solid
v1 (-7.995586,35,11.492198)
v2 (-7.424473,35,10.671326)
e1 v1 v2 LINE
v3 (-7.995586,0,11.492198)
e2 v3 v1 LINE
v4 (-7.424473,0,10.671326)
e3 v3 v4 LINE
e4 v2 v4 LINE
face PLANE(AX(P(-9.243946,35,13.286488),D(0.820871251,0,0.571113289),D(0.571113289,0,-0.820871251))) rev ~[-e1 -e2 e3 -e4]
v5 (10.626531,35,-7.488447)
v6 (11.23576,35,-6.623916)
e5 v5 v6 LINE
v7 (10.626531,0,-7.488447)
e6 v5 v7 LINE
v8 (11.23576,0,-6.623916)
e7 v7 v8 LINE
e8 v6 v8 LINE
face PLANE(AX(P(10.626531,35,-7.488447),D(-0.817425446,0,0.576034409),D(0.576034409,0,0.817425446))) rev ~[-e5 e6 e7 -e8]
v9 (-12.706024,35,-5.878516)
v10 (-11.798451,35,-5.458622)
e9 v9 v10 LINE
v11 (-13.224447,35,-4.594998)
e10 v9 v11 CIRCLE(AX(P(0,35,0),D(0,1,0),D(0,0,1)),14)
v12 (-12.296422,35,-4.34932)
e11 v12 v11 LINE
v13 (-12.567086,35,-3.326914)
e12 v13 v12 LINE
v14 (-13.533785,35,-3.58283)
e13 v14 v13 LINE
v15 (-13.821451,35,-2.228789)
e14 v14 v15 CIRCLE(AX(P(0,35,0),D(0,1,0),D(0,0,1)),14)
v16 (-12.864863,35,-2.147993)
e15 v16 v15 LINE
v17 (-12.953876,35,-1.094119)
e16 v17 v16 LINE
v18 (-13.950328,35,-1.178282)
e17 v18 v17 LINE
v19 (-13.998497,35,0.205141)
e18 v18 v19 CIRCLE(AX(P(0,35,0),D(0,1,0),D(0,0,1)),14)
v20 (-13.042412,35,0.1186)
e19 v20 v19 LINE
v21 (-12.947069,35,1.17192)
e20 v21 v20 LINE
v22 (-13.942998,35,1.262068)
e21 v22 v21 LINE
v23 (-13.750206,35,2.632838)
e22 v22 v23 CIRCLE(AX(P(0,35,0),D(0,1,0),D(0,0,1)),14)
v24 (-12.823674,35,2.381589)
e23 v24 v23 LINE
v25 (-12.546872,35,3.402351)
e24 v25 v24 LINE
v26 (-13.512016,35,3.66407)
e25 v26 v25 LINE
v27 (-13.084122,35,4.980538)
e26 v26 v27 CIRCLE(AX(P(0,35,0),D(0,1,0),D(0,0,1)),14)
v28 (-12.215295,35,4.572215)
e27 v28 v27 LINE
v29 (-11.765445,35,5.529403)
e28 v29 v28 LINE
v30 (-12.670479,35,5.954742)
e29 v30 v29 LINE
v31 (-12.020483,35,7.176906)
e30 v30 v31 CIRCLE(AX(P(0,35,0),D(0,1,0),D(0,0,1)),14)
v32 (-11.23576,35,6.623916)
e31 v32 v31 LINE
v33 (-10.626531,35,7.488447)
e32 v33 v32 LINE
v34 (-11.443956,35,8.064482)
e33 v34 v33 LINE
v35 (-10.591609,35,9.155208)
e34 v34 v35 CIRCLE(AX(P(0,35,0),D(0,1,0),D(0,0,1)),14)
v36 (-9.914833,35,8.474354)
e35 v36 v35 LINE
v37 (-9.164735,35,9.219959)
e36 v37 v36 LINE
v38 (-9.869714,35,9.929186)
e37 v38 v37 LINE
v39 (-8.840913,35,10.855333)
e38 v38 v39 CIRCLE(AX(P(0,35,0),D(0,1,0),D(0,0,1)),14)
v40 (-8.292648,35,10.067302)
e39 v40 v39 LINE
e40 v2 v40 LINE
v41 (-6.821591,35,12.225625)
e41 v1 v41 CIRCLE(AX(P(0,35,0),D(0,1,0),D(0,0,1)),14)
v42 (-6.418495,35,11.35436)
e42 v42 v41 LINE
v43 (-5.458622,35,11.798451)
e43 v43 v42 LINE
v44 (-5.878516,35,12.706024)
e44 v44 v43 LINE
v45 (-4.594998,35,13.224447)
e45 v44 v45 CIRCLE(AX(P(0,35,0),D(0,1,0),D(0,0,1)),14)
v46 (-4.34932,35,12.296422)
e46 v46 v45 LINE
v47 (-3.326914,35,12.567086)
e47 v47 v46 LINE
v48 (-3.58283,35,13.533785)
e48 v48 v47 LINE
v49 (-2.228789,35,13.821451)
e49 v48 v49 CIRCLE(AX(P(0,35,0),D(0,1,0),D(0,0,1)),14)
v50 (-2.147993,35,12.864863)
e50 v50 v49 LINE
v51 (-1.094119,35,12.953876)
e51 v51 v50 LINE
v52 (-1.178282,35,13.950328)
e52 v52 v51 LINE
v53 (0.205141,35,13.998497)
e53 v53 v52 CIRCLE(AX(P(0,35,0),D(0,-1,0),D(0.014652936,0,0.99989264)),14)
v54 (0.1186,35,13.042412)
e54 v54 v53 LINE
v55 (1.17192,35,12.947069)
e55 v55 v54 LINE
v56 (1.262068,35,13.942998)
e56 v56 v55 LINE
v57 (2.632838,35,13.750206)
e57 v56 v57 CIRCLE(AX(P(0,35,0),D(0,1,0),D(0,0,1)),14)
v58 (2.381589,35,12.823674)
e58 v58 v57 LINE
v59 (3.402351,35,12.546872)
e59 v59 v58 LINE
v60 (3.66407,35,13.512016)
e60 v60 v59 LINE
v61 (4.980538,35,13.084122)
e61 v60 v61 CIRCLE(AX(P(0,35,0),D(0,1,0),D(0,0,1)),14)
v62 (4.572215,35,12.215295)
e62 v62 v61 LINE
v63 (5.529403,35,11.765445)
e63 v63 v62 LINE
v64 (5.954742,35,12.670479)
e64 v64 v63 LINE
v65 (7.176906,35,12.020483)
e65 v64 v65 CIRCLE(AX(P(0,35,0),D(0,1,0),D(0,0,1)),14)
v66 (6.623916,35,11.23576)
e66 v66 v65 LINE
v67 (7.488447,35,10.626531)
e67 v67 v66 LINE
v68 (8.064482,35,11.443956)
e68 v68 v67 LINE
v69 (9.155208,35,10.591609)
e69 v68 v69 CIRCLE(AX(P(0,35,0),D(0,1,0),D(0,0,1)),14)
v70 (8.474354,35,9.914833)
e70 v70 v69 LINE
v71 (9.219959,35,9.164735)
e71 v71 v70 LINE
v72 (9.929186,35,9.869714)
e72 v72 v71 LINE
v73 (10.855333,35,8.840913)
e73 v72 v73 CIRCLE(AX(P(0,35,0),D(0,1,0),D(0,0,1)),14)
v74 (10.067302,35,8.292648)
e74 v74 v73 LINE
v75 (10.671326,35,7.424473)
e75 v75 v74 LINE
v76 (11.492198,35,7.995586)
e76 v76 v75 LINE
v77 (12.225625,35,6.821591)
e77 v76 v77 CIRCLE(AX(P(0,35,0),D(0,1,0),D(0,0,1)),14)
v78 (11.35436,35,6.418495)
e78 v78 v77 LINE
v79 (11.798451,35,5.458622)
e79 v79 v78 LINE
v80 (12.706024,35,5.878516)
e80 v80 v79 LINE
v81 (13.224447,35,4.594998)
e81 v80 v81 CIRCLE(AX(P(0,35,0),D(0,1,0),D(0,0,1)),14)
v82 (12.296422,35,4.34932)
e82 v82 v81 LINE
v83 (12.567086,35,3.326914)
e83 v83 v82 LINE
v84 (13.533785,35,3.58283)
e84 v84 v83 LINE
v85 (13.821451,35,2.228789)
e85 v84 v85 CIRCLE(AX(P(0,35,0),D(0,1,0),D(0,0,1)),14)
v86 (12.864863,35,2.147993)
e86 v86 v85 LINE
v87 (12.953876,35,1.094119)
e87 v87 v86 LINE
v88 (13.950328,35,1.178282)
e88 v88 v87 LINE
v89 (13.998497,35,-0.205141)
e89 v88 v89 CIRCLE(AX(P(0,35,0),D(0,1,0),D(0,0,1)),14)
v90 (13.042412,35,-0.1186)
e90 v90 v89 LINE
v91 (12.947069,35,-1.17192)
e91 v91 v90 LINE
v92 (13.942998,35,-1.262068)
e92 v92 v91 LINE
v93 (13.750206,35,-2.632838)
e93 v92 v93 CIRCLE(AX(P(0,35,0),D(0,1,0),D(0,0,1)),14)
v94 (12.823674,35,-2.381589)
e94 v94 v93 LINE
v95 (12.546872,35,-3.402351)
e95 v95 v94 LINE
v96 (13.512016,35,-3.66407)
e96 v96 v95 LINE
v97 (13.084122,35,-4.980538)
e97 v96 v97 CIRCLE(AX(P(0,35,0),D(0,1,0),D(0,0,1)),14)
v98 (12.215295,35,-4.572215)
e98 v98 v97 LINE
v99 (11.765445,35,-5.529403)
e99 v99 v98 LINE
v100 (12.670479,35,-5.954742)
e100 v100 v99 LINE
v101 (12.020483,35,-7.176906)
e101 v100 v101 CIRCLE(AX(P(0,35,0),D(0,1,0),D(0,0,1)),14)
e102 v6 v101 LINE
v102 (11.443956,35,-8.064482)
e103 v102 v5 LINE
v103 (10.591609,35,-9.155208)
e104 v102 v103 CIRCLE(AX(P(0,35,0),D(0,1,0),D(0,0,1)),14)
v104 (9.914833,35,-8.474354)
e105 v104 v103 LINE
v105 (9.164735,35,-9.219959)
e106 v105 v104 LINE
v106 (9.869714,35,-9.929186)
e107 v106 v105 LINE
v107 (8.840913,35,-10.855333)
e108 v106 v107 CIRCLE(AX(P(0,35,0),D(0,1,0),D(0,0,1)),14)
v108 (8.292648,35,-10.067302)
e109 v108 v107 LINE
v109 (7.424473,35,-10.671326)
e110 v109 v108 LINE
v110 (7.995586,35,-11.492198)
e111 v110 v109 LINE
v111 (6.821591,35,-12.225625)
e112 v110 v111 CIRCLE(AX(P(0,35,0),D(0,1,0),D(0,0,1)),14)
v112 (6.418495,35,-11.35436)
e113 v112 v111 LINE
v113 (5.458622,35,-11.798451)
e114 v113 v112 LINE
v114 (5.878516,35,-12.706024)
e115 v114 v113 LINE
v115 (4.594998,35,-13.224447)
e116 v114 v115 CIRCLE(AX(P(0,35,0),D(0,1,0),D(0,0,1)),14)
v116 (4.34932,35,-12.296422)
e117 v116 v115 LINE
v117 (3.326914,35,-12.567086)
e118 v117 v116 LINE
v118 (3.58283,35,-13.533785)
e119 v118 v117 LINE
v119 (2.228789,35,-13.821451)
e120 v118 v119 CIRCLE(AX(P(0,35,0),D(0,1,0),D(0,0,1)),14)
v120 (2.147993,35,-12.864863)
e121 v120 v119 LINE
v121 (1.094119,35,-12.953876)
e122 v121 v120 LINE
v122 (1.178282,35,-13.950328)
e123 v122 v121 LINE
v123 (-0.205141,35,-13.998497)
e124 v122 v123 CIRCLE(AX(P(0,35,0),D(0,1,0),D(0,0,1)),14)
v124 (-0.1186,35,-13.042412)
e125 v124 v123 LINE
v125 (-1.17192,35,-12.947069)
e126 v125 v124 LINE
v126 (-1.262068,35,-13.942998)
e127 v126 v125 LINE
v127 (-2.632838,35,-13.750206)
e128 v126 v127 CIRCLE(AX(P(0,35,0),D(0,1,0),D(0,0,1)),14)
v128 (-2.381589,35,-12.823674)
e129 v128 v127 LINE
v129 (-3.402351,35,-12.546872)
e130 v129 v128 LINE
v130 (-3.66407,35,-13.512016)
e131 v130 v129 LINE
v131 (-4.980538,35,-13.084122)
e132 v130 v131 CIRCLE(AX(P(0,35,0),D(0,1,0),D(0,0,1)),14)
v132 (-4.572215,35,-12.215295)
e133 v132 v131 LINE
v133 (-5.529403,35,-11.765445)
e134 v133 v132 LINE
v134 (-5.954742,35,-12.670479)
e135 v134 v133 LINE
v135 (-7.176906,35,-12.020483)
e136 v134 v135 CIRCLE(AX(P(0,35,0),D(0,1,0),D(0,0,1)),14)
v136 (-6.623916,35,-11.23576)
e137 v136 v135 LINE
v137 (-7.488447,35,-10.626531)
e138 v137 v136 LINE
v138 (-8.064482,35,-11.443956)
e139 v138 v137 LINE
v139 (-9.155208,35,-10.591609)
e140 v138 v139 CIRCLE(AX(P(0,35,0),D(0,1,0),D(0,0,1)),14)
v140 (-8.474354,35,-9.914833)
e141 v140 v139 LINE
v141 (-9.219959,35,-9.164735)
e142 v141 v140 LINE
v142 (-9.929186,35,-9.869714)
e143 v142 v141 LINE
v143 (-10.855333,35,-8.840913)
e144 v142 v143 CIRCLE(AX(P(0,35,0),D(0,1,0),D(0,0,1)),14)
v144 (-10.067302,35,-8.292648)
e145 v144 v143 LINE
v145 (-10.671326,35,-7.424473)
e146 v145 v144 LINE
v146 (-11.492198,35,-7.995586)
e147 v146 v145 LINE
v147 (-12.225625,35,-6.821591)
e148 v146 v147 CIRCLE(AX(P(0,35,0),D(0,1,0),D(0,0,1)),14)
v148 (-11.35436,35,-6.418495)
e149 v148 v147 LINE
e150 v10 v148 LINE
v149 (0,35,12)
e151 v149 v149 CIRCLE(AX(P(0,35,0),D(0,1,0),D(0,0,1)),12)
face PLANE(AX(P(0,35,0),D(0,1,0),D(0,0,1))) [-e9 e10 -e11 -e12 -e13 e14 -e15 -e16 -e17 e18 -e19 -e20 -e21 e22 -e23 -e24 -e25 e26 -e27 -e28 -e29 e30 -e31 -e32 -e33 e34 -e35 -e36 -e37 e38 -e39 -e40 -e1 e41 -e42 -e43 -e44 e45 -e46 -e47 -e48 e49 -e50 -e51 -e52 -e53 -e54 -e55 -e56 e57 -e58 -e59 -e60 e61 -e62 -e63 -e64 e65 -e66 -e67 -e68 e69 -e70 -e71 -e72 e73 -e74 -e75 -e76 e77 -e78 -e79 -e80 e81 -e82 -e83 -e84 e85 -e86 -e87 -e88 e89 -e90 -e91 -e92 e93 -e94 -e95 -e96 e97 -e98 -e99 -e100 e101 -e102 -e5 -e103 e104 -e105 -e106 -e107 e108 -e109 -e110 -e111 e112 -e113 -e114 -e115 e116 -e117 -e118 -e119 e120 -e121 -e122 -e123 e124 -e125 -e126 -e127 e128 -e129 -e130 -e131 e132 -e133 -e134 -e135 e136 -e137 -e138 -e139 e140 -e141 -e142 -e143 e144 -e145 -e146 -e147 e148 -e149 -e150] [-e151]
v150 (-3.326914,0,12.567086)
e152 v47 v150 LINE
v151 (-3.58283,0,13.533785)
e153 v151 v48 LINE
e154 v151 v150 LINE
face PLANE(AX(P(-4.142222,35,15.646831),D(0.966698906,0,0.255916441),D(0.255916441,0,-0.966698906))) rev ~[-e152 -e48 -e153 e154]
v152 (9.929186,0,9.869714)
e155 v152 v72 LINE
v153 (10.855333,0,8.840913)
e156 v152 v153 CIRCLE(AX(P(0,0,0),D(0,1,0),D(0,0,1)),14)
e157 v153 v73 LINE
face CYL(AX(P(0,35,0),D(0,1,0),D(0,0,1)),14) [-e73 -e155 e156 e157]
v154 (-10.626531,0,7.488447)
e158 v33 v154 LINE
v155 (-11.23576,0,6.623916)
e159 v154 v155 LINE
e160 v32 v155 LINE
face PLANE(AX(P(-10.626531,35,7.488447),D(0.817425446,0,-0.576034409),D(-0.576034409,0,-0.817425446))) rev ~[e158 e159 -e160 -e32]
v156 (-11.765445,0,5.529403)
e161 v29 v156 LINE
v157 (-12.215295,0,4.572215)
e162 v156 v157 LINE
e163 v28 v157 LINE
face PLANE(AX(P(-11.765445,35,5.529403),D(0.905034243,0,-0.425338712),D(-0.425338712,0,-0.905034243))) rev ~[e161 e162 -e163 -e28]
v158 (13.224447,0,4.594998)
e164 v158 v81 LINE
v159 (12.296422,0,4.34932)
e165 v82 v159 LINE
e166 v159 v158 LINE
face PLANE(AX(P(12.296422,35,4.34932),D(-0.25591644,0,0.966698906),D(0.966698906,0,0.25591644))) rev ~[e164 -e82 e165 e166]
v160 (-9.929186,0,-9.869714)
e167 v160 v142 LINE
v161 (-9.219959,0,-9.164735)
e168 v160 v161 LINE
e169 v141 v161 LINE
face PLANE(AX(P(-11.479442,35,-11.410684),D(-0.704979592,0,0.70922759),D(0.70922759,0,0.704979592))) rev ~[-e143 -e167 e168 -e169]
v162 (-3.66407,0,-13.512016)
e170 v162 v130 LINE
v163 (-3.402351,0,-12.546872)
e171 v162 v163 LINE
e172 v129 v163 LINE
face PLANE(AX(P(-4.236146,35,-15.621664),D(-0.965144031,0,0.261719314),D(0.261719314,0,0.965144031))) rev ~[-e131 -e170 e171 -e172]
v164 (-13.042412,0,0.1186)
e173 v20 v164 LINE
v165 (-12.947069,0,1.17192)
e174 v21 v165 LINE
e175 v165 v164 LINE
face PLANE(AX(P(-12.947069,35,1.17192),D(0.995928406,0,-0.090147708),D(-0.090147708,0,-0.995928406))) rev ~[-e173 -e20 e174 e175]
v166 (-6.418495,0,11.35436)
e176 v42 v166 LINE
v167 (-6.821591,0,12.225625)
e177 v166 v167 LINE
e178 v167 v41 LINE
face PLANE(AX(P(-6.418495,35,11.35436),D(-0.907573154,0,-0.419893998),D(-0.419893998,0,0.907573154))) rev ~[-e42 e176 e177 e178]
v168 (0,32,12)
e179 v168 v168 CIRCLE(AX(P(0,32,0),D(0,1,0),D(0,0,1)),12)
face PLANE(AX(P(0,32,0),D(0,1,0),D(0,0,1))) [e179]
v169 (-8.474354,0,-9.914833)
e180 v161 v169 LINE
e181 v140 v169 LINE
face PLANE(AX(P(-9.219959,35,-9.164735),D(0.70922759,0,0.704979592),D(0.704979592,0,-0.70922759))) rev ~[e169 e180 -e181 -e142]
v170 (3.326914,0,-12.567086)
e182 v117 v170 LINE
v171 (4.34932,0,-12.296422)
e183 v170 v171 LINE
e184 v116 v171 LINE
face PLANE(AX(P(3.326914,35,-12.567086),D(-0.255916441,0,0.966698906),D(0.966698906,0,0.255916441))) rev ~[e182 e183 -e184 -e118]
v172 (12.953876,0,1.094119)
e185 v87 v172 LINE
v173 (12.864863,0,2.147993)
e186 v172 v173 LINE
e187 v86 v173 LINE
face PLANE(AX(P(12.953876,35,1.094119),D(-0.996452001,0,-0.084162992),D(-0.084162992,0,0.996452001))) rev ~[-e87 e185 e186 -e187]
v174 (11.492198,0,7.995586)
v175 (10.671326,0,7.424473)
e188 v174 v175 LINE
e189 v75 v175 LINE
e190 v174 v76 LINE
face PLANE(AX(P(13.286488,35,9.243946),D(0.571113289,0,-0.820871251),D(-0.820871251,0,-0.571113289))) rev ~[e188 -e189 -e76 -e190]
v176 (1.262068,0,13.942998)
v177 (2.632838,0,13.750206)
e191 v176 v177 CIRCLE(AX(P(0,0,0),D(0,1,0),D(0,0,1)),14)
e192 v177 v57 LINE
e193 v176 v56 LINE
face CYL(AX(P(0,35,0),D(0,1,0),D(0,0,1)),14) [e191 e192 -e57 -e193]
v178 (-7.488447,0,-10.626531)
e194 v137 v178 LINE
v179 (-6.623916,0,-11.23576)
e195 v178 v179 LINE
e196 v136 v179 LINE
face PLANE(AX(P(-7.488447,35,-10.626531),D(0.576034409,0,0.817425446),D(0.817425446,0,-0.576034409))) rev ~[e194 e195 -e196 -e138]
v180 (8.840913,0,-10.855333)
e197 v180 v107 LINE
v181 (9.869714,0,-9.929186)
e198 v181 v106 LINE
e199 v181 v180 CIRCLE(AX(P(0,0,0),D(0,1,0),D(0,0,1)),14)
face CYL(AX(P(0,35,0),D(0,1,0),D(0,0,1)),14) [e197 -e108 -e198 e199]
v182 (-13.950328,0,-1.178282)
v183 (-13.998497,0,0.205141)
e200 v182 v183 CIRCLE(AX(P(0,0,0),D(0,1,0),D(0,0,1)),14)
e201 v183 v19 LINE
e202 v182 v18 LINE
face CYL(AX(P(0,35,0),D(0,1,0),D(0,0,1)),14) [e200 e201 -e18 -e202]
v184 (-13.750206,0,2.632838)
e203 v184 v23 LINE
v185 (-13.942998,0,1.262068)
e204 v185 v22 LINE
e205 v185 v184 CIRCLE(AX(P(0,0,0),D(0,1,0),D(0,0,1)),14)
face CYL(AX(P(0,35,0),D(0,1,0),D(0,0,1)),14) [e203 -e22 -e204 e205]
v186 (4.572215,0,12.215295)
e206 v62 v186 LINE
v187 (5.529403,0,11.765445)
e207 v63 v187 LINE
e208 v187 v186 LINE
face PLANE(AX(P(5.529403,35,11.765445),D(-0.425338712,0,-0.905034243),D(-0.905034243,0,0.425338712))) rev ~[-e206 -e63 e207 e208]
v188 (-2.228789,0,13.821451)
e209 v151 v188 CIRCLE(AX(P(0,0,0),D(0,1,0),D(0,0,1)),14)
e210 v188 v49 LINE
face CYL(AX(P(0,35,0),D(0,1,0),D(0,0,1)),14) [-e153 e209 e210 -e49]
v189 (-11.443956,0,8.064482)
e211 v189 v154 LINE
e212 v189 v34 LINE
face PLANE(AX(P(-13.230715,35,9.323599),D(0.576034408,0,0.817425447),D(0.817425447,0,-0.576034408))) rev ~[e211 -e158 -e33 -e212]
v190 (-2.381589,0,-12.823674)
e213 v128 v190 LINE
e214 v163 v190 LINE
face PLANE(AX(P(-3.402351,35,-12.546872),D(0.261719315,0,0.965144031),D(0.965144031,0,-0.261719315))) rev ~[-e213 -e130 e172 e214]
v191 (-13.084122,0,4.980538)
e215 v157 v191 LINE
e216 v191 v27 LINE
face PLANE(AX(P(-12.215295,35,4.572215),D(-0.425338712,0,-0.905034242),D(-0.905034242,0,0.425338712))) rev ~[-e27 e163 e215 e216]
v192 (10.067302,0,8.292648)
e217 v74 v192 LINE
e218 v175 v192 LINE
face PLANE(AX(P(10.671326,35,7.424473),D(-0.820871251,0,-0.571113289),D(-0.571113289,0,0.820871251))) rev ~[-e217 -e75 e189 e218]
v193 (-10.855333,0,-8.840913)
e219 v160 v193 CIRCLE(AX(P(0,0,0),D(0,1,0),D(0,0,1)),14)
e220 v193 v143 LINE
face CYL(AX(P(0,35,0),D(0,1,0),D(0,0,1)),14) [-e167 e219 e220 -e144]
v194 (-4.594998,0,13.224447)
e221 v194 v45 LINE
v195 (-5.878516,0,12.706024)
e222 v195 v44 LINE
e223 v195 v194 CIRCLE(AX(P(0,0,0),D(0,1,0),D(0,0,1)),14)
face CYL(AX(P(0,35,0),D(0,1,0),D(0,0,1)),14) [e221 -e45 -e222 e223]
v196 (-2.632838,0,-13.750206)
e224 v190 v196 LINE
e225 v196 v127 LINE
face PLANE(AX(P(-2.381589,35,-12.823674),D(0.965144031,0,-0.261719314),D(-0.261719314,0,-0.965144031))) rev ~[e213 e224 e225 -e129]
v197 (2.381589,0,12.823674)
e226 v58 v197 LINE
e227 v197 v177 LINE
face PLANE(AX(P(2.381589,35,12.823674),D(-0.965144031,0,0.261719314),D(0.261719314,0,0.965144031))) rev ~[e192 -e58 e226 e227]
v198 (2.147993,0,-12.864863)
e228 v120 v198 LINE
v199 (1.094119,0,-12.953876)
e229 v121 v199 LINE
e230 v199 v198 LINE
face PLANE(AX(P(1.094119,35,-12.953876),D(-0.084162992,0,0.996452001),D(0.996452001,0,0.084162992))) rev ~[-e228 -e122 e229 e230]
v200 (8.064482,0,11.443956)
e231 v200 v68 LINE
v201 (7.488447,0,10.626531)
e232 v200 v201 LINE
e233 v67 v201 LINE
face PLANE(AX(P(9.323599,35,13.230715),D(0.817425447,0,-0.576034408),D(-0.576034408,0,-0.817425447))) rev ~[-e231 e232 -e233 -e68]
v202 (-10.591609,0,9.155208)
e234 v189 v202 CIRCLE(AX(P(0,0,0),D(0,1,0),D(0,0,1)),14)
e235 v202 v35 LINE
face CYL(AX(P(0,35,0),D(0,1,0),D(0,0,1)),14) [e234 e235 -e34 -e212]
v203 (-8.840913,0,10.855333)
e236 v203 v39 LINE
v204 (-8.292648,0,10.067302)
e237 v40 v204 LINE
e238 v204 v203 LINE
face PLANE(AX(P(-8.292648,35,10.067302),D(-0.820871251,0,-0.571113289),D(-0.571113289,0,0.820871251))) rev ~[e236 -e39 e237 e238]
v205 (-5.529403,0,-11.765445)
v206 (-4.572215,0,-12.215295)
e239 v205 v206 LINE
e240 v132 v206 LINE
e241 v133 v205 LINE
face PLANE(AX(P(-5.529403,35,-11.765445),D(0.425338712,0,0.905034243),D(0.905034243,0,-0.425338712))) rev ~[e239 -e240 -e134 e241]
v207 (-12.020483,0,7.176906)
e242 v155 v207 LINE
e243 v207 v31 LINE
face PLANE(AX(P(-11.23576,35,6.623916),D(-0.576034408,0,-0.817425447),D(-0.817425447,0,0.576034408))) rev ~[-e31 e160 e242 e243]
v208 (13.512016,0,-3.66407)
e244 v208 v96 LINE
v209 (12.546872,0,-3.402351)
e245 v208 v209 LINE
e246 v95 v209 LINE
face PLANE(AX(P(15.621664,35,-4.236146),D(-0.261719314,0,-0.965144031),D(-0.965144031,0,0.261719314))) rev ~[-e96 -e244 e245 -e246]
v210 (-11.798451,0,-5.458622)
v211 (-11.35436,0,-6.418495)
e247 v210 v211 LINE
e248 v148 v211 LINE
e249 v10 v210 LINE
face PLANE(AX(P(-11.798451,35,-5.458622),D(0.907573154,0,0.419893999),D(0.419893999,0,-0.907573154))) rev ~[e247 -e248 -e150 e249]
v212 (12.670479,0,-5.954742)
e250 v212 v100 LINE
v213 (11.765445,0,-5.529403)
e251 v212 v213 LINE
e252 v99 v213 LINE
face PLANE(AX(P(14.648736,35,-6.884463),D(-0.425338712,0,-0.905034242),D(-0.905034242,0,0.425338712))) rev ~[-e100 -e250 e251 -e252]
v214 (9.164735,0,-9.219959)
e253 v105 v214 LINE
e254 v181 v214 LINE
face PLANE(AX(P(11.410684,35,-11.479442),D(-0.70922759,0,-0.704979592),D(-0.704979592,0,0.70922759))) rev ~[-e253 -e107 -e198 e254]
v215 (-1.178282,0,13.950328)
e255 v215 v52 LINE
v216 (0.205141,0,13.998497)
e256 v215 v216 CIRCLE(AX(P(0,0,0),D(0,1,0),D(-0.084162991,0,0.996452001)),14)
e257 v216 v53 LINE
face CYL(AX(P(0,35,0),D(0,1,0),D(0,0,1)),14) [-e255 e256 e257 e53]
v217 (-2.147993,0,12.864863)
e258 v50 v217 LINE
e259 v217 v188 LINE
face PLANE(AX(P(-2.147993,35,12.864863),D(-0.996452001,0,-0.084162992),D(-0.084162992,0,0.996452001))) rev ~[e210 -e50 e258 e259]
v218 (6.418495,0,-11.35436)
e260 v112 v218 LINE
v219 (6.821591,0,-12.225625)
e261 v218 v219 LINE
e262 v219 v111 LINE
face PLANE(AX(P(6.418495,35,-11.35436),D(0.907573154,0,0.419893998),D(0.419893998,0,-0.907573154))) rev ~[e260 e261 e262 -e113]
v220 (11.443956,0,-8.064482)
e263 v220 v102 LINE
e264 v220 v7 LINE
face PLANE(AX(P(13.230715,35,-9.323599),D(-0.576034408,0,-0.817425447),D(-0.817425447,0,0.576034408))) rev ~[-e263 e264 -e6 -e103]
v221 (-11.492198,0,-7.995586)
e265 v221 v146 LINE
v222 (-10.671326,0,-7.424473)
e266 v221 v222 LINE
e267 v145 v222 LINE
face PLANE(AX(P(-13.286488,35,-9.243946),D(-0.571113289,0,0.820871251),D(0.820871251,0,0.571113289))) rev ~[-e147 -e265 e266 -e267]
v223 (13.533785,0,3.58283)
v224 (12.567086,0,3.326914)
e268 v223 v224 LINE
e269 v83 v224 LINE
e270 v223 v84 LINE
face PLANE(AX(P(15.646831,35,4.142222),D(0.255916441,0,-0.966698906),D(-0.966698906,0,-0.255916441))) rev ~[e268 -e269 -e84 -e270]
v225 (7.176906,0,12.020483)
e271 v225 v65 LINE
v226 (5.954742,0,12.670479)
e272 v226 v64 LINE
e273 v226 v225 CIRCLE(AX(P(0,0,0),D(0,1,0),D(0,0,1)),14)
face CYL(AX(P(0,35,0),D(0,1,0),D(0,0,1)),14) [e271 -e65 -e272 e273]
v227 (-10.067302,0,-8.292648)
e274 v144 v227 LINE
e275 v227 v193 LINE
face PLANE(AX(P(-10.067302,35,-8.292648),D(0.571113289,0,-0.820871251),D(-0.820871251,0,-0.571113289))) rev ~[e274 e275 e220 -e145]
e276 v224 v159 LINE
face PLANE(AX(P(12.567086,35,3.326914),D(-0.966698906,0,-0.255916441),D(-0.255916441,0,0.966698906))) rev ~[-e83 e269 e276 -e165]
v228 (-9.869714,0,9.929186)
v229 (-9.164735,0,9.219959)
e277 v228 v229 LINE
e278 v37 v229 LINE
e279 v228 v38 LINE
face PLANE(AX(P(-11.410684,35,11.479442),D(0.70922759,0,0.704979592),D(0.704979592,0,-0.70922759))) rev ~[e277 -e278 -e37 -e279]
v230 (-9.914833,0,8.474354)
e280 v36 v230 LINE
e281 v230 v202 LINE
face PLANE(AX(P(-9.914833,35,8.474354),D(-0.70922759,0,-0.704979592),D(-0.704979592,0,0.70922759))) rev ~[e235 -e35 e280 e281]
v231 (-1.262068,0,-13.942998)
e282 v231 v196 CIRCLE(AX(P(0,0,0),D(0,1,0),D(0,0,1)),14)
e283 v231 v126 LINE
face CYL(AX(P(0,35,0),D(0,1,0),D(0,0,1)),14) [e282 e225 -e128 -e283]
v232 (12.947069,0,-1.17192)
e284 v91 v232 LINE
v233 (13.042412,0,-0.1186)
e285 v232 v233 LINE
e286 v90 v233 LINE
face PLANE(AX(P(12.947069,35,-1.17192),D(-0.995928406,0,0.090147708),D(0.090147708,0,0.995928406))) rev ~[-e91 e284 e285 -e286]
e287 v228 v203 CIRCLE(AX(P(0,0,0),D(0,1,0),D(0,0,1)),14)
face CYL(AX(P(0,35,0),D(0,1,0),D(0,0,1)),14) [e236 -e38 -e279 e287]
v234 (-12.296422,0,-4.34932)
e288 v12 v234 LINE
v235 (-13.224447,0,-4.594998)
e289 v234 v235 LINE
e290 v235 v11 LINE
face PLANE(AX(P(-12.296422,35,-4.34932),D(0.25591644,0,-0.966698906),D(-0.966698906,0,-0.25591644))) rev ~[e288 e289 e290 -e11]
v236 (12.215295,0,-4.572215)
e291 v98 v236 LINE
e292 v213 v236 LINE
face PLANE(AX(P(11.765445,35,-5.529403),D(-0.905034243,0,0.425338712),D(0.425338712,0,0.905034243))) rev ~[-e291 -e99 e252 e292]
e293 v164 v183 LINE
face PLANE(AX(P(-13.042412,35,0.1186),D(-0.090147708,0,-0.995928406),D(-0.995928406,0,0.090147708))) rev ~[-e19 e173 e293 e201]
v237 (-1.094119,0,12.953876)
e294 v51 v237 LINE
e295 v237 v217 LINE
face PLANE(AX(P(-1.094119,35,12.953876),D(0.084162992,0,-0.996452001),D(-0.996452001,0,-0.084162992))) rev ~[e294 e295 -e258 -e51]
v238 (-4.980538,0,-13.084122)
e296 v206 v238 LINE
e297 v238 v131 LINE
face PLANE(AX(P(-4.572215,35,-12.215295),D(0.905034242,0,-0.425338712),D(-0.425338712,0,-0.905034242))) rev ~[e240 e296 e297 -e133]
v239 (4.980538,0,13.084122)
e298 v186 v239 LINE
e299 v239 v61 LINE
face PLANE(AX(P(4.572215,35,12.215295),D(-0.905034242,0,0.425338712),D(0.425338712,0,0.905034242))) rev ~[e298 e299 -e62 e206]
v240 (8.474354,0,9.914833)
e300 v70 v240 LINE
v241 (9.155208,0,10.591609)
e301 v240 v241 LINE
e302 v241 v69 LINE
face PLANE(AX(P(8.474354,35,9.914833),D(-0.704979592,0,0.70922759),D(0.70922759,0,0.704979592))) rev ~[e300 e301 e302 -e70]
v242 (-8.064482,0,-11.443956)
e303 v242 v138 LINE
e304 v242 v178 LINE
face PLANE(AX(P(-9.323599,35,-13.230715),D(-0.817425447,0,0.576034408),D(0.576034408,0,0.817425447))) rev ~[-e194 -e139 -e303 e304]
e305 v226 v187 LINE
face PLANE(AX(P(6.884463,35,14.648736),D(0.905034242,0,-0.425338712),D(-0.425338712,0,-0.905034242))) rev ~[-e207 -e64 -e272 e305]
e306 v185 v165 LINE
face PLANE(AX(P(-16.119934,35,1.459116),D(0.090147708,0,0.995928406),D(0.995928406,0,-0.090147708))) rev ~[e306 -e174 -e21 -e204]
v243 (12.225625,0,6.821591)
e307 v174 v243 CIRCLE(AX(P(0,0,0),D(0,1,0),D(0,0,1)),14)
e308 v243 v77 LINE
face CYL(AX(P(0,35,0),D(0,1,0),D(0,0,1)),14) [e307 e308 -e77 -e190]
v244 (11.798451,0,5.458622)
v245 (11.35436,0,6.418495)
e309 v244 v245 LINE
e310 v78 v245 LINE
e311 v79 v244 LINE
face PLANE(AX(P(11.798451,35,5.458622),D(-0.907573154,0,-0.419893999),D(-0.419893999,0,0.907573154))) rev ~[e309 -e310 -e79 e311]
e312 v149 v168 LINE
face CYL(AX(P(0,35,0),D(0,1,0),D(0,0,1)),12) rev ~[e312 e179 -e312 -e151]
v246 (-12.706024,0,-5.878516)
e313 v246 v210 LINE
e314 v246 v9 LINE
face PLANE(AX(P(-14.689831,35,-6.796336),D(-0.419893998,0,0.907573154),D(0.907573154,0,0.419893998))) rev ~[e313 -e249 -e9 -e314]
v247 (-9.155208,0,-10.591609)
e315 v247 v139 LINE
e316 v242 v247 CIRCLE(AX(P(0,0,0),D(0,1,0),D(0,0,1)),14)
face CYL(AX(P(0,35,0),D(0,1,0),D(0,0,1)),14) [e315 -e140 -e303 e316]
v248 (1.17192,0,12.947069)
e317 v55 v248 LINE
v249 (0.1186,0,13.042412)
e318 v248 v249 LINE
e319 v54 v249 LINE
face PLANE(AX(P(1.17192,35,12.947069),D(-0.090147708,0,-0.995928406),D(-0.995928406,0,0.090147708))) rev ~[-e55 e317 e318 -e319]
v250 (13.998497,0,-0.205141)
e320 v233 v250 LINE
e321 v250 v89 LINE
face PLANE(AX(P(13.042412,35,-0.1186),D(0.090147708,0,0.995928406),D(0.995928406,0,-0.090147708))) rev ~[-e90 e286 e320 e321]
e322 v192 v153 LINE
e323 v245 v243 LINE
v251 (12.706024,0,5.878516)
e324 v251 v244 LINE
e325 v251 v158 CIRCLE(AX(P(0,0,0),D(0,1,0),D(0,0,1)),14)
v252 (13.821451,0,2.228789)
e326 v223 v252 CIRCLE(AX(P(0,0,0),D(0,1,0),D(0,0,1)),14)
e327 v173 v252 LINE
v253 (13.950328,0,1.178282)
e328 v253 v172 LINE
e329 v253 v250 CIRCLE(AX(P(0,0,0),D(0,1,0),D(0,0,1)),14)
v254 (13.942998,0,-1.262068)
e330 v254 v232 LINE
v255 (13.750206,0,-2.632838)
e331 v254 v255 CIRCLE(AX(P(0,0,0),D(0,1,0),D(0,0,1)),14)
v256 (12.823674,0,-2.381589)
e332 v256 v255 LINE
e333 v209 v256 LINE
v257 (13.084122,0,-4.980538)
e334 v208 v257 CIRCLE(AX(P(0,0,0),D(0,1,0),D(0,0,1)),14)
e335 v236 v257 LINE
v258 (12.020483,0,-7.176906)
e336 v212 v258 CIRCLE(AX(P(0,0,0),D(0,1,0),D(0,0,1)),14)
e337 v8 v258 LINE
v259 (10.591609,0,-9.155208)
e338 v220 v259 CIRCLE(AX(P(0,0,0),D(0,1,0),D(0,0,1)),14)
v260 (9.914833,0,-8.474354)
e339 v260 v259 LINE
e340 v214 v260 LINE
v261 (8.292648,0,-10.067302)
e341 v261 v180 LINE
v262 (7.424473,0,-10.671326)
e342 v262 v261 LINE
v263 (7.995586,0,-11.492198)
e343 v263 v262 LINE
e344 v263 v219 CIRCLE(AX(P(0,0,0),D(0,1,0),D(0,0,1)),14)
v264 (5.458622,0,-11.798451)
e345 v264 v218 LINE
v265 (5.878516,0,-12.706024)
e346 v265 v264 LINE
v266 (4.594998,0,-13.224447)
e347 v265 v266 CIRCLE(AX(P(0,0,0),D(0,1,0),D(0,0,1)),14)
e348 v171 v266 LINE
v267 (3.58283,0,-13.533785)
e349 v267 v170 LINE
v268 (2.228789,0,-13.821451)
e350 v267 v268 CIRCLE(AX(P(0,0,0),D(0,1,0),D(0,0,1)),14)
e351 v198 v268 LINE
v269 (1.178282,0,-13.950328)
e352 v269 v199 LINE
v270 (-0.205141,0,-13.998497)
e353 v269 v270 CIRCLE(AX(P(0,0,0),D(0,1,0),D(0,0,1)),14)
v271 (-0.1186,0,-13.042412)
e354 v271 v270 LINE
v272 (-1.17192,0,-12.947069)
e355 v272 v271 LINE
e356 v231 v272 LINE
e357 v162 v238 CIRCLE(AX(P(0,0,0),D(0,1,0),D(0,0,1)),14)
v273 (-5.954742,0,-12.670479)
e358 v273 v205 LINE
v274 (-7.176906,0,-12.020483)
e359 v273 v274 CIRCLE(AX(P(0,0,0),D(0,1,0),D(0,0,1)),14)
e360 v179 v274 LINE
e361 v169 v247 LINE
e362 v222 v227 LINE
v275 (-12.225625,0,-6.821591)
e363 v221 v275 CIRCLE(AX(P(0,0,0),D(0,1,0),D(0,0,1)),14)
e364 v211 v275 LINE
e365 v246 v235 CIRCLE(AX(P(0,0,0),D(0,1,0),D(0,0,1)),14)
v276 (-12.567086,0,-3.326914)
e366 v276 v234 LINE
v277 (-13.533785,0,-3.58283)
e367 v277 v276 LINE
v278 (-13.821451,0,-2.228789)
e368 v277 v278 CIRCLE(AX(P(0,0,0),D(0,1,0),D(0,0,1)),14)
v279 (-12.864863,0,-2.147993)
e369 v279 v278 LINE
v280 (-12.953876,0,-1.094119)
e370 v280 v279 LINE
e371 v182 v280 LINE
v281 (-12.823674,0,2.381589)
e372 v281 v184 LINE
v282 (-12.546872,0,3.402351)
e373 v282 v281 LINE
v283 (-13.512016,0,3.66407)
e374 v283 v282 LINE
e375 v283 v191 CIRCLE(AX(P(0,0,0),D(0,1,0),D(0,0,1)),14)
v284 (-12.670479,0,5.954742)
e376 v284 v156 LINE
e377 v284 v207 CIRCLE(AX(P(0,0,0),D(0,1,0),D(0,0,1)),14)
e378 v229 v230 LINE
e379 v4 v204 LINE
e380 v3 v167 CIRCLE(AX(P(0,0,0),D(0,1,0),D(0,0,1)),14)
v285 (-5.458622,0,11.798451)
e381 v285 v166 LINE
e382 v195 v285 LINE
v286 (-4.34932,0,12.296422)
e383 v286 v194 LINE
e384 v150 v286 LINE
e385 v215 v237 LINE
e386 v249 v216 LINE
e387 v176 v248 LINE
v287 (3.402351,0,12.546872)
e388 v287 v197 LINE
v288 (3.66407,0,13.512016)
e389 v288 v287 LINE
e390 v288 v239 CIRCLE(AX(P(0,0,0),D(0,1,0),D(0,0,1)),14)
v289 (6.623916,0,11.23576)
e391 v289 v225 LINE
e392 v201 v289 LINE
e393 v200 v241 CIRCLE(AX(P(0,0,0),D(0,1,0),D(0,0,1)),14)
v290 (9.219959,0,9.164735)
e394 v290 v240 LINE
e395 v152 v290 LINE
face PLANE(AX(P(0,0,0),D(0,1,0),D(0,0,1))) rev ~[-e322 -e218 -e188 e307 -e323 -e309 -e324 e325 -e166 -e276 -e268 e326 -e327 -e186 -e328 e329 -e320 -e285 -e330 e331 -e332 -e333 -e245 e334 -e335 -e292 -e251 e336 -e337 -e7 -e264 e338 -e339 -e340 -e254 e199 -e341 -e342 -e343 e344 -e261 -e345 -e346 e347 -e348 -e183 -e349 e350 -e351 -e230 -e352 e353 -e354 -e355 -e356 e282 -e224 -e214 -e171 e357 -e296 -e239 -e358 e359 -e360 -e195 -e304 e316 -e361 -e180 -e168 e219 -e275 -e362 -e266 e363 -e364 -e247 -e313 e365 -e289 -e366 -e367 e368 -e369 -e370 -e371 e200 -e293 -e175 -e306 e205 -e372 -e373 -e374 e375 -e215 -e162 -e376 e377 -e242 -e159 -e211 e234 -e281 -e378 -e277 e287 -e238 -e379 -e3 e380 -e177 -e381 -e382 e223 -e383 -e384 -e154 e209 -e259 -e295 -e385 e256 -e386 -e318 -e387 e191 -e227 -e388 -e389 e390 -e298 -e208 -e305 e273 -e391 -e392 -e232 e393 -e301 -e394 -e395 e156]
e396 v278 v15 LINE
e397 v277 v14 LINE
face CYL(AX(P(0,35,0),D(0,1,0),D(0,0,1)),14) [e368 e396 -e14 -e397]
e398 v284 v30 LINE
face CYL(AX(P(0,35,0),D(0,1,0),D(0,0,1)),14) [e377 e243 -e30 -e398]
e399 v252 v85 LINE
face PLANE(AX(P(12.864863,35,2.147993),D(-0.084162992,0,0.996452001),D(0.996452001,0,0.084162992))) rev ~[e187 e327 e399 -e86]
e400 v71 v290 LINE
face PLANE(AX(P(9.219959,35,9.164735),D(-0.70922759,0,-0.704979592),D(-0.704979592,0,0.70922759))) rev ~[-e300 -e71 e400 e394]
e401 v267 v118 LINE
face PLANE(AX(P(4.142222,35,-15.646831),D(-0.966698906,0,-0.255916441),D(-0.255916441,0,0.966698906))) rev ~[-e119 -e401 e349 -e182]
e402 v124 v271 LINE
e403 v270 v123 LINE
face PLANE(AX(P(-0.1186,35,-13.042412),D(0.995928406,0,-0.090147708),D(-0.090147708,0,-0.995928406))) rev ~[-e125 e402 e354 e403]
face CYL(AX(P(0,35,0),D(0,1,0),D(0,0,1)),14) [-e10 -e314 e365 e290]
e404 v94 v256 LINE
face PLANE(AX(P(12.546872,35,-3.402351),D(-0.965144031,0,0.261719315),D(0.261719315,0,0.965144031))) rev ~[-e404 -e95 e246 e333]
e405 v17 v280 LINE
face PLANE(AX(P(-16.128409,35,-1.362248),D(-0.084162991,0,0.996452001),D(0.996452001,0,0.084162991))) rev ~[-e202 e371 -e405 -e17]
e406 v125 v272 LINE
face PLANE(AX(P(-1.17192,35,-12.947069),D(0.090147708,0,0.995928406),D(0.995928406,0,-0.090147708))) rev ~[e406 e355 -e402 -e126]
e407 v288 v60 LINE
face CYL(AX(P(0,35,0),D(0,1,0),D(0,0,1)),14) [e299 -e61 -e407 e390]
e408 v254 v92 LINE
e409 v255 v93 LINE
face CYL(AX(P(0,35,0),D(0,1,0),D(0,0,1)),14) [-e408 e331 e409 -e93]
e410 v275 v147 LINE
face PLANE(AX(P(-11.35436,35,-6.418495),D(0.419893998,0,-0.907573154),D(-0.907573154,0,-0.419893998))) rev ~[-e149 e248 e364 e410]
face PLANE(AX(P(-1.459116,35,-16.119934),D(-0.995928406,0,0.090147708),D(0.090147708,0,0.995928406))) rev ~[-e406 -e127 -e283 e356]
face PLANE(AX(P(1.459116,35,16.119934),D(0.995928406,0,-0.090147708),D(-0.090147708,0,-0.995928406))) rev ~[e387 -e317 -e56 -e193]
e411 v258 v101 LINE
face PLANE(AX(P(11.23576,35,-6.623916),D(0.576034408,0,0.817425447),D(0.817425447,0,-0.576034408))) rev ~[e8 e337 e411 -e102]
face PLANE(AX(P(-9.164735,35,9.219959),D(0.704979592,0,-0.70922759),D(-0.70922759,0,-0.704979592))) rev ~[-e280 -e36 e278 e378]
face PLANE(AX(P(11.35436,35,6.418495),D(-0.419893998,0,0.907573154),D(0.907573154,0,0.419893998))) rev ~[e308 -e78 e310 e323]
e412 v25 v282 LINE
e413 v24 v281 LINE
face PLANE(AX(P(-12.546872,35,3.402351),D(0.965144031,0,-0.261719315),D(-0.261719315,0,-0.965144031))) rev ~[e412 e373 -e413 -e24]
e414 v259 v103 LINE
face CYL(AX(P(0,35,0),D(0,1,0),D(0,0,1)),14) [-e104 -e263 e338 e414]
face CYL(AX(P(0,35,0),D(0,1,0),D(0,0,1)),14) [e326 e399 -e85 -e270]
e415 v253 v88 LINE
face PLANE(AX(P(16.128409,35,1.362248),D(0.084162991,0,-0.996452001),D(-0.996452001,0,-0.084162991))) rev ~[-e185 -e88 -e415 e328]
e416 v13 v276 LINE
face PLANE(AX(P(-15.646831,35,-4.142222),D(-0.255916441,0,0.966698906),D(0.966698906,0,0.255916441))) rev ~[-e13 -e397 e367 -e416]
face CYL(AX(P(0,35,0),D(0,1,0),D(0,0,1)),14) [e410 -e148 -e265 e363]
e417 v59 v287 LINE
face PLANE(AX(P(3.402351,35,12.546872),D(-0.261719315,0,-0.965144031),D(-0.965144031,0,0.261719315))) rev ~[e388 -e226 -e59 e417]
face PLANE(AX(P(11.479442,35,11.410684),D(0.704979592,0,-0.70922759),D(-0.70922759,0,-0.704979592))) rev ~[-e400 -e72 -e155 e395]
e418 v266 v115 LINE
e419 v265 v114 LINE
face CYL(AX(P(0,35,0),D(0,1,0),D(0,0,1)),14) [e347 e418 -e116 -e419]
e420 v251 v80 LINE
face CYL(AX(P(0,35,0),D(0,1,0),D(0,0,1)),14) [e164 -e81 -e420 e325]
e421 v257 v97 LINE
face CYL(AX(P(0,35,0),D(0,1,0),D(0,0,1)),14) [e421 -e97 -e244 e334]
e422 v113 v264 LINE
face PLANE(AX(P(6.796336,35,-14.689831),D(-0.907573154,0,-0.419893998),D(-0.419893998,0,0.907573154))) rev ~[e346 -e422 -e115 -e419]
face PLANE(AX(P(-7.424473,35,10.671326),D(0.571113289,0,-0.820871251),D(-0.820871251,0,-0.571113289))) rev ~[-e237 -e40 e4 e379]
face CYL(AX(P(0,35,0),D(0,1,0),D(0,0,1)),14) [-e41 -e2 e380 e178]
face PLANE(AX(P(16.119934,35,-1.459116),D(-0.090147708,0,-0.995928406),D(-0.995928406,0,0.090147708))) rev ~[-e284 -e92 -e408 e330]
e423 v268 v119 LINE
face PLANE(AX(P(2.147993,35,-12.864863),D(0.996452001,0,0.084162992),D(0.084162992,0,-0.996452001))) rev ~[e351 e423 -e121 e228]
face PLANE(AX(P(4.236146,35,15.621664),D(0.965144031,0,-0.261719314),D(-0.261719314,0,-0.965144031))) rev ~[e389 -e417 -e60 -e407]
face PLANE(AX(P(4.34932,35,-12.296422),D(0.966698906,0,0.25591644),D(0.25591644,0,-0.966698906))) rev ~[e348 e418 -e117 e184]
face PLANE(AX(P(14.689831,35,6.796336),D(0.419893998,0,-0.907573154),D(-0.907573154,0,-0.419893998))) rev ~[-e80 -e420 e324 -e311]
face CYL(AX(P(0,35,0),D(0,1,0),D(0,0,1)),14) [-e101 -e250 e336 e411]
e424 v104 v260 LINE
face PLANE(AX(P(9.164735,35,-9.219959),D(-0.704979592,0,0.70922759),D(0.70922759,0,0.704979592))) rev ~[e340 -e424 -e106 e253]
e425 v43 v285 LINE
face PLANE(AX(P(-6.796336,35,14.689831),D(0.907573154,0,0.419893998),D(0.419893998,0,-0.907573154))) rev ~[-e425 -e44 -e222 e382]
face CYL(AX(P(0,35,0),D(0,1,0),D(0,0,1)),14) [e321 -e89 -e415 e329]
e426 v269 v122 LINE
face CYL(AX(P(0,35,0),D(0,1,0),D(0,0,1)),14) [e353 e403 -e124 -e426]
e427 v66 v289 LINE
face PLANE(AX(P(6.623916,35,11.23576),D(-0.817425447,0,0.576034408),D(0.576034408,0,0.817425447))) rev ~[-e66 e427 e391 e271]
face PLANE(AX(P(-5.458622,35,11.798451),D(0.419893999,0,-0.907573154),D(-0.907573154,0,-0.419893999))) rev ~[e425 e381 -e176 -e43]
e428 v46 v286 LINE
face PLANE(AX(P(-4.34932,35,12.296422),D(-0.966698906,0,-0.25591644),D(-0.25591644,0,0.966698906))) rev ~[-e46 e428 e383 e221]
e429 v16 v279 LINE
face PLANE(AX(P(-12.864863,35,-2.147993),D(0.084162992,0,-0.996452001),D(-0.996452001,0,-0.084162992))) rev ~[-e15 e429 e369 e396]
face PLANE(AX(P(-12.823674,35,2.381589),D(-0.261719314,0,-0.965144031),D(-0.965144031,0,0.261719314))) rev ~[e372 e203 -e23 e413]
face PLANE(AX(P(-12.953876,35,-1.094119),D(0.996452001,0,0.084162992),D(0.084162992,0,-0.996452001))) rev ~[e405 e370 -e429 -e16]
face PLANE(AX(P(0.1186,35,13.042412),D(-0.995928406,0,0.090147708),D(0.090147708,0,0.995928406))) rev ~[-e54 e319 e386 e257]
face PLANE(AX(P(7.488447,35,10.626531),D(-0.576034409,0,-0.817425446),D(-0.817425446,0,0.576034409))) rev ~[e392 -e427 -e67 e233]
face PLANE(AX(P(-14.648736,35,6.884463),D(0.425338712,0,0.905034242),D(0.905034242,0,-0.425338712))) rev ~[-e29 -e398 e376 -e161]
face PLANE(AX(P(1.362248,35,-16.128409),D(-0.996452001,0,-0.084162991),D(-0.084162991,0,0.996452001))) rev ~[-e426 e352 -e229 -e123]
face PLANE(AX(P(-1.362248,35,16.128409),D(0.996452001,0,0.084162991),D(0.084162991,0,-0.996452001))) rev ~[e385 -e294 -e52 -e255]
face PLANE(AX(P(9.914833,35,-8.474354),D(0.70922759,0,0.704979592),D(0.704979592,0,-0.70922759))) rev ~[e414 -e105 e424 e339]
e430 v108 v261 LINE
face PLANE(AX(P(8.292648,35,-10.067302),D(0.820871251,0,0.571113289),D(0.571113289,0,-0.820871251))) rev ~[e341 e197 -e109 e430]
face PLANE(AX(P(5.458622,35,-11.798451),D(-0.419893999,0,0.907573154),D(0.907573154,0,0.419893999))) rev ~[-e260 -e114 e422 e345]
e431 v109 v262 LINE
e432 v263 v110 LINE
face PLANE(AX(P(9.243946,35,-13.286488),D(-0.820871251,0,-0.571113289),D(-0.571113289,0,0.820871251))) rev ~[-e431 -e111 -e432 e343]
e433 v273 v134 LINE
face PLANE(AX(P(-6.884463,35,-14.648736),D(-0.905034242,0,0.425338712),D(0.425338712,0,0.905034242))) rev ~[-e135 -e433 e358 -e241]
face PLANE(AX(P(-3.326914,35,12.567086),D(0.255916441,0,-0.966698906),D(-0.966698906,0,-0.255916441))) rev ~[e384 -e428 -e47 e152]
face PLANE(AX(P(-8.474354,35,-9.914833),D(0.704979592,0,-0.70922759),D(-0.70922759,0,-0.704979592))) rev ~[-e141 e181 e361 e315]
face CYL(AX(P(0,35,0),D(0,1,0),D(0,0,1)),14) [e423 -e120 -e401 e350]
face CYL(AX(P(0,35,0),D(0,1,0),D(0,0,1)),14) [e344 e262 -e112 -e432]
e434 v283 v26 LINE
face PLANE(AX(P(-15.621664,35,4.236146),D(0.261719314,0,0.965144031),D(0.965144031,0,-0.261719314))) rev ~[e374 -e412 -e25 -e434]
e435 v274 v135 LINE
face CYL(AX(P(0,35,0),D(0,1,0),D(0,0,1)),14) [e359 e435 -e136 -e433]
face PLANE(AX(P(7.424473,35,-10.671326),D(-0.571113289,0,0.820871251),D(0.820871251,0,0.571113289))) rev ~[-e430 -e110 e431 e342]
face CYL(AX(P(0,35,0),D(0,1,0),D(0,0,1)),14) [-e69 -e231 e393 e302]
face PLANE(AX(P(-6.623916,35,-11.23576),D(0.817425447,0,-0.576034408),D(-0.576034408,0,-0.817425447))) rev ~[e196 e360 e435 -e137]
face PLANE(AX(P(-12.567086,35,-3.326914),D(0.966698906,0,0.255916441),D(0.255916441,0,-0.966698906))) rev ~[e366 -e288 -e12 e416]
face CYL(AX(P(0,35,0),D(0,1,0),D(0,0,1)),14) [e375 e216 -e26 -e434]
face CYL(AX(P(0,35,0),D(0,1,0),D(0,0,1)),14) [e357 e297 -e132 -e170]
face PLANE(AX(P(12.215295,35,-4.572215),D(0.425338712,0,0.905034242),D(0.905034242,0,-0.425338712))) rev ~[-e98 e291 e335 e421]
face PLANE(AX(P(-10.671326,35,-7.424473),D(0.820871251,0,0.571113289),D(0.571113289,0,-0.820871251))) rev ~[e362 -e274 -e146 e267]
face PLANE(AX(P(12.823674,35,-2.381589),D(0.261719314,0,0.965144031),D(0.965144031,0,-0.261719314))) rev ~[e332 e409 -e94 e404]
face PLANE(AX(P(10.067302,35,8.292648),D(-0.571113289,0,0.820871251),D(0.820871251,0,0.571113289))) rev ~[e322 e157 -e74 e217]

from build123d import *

# Parameters (mm, degrees)
SKETCH_1_R          = 13
EXTRUDE_1_DEPTH     = 35
SKETCH_6_R          = 14
EXTRUDE_4_DEPTH     = 35
SKETCH_2_R          = 12
CUT_EXTRUDE_1_DEPTH = 3
CUT_EXTRUDE_2_DEPTH = 41.211938526


with BuildPart() as part:
    # 草图1 → 凸台-拉伸1 (new body)
    with BuildSketch(Plane(origin=(0, 0, 0), x_dir=(1, 0, 0), z_dir=(0, 1, 0))):
        with Locations(Location((0, 0, 0), (0, 0, 270))):
            Circle(SKETCH_1_R)
    extrude(amount=EXTRUDE_1_DEPTH)

    # 草图6 → 凸台-拉伸4 (add, through all)
    with BuildSketch(Plane(origin=(0, 35, 0), x_dir=(1, 0, 0), z_dir=(0, 1, 0))):
        with Locations(Location((0, 0, 0), (0, 0, 270))):
            Circle(SKETCH_6_R)
    extrude(amount=-EXTRUDE_4_DEPTH)

    # 草图2 → 切除-拉伸1 (cut)
    with BuildSketch(Plane(origin=(0, 35, 0), x_dir=(1, 0, 0), z_dir=(0, 1, 0))):
        with Locations(Location((0, 0, 0), (0, 0, 270))):
            Circle(SKETCH_2_R)
    extrude(amount=-CUT_EXTRUDE_1_DEPTH, mode=Mode.SUBTRACT)

    # 草图7 → 切除-拉伸2 (cut, through all)
    with BuildSketch(Plane(origin=(0, 35, 0), x_dir=(1, 0, 0), z_dir=(0, 1, 0))):
        Polygon((-15.646830527, 4.142221687), (-12.567085782, 3.326913727), (-12.296421758, 4.349320163), (-15.376166503, 5.164628122), align=None)
        Polygon((-14.689830765, 6.79633564), (-11.798451005, 5.458621977), (-11.354359961, 6.418495447), (-14.245739722, 7.756209109), align=None)
        Polygon((-13.28648793, 9.243946373), (-10.671326264, 7.42447276), (-10.067301683, 8.292647994), (-12.682463348, 10.112121607), align=None)
        Polygon((-11.479441881, 11.410684473), (-9.219958675, 9.164734695), (-8.474353537, 9.914832629), (-10.733836743, 12.160782407), align=None)
        Polygon((-9.3235988, 13.230714699), (-7.488447307, 10.626530804), (-6.623916447, 11.235760092), (-8.45906794, 13.839943987), align=None)
        Polygon((-6.884462888, 14.648736355), (-5.529403257, 11.765445152), (-4.572215008, 12.215294669), (-5.927274639, 15.098585872), align=None)
        Polygon((-4.236146054, 15.621663569), (-3.402351087, 12.546872402), (-2.381589129, 12.8236737), (-3.215384096, 15.898464866), align=None)
        Polygon((-1.459116066, 16.11993444), (-1.171920201, 12.947069284), (-0.11859987, 13.042411894), (-0.405795735, 16.21527705), align=None)
        Polygon((1.362248425, 16.12840926), (1.094118888, 12.953876017), (2.147992986, 12.864863002), (2.416122524, 16.039396246), align=None)
        Polygon((4.142221687, 15.646830527), (3.326913727, 12.567085782), (4.349320163, 12.296421758), (5.164628122, 15.376166503), align=None)
        Polygon((6.79633564, 14.689830765), (5.458621977, 11.798451005), (6.418495447, 11.354359961), (7.756209109, 14.245739722), align=None)
        Polygon((9.243946373, 13.28648793), (7.42447276, 10.671326264), (8.292647994, 10.067301683), (10.112121607, 12.682463348), align=None)
        Polygon((11.410684473, 11.479441881), (9.164734695, 9.219958675), (9.914832629, 8.474353537), (12.160782407, 10.733836743), align=None)
        Polygon((13.230714699, 9.3235988), (10.626530804, 7.488447307), (11.235760092, 6.623916447), (13.839943987, 8.45906794), align=None)
        Polygon((14.648736355, 6.884462888), (11.765445152, 5.529403257), (12.215294669, 4.572215008), (15.098585872, 5.927274639), align=None)
        Polygon((15.621663569, 4.236146054), (12.546872402, 3.402351087), (12.8236737, 2.381589129), (15.898464866, 3.215384096), align=None)
        Polygon((16.11993444, 1.459116066), (12.947069284, 1.171920201), (13.042411894, 0.11859987), (16.21527705, 0.405795735), align=None)
        Polygon((16.12840926, -1.362248425), (12.953876017, -1.094118888), (12.864863002, -2.147992986), (16.039396246, -2.416122524), align=None)
        Polygon((15.646830527, -4.142221687), (12.567085782, -3.326913727), (12.296421758, -4.349320163), (15.376166503, -5.164628122), align=None)
        Polygon((14.689830765, -6.79633564), (11.798451005, -5.458621977), (11.354359961, -6.418495447), (14.245739722, -7.756209109), align=None)
        Polygon((13.28648793, -9.243946373), (10.671326264, -7.42447276), (10.067301683, -8.292647994), (12.682463348, -10.112121607), align=None)
        Polygon((11.479441881, -11.410684473), (9.219958675, -9.164734695), (8.474353537, -9.914832629), (10.733836743, -12.160782407), align=None)
        Polygon((9.3235988, -13.230714699), (7.488447307, -10.626530804), (6.623916447, -11.235760092), (8.45906794, -13.839943987), align=None)
        Polygon((6.884462888, -14.648736355), (5.529403257, -11.765445152), (4.572215008, -12.215294669), (5.927274639, -15.098585872), align=None)
        Polygon((4.236146054, -15.621663569), (3.402351087, -12.546872402), (2.381589129, -12.8236737), (3.215384096, -15.898464866), align=None)
        Polygon((1.459116066, -16.11993444), (1.171920201, -12.947069284), (0.11859987, -13.042411894), (0.405795735, -16.21527705), align=None)
        Polygon((-1.362248425, -16.12840926), (-1.094118888, -12.953876017), (-2.147992986, -12.864863002), (-2.416122524, -16.039396246), align=None)
        Polygon((-4.142221687, -15.646830527), (-3.326913727, -12.567085782), (-4.349320163, -12.296421758), (-5.164628122, -15.376166503), align=None)
        Polygon((-6.79633564, -14.689830765), (-5.458621977, -11.798451005), (-6.418495447, -11.354359961), (-7.756209109, -14.245739722), align=None)
        Polygon((-9.243946373, -13.28648793), (-7.42447276, -10.671326264), (-8.292647994, -10.067301683), (-10.112121607, -12.682463348), align=None)
        Polygon((-11.410684473, -11.479441881), (-9.164734695, -9.219958675), (-9.914832629, -8.474353537), (-12.160782407, -10.733836743), align=None)
        Polygon((-13.230714699, -9.3235988), (-10.626530804, -7.488447307), (-11.235760092, -6.623916447), (-13.839943987, -8.45906794), align=None)
        Polygon((-14.648736355, -6.884462888), (-11.765445152, -5.529403257), (-12.215294669, -4.572215008), (-15.098585872, -5.927274639), align=None)
        Polygon((-15.621663569, -4.236146054), (-12.546872402, -3.402351087), (-12.8236737, -2.381589129), (-15.898464866, -3.215384096), align=None)
        Polygon((-16.11993444, -1.459116066), (-12.947069284, -1.171920201), (-13.042411894, -0.11859987), (-16.21527705, -0.405795735), align=None)
        Polygon((-16.12840926, 1.362248425), (-12.953876017, 1.094118888), (-12.864863002, 2.147992986), (-16.039396246, 2.416122524), align=None)
    extrude(amount=-CUT_EXTRUDE_2_DEPTH, mode=Mode.SUBTRACT)


solid = part.part
